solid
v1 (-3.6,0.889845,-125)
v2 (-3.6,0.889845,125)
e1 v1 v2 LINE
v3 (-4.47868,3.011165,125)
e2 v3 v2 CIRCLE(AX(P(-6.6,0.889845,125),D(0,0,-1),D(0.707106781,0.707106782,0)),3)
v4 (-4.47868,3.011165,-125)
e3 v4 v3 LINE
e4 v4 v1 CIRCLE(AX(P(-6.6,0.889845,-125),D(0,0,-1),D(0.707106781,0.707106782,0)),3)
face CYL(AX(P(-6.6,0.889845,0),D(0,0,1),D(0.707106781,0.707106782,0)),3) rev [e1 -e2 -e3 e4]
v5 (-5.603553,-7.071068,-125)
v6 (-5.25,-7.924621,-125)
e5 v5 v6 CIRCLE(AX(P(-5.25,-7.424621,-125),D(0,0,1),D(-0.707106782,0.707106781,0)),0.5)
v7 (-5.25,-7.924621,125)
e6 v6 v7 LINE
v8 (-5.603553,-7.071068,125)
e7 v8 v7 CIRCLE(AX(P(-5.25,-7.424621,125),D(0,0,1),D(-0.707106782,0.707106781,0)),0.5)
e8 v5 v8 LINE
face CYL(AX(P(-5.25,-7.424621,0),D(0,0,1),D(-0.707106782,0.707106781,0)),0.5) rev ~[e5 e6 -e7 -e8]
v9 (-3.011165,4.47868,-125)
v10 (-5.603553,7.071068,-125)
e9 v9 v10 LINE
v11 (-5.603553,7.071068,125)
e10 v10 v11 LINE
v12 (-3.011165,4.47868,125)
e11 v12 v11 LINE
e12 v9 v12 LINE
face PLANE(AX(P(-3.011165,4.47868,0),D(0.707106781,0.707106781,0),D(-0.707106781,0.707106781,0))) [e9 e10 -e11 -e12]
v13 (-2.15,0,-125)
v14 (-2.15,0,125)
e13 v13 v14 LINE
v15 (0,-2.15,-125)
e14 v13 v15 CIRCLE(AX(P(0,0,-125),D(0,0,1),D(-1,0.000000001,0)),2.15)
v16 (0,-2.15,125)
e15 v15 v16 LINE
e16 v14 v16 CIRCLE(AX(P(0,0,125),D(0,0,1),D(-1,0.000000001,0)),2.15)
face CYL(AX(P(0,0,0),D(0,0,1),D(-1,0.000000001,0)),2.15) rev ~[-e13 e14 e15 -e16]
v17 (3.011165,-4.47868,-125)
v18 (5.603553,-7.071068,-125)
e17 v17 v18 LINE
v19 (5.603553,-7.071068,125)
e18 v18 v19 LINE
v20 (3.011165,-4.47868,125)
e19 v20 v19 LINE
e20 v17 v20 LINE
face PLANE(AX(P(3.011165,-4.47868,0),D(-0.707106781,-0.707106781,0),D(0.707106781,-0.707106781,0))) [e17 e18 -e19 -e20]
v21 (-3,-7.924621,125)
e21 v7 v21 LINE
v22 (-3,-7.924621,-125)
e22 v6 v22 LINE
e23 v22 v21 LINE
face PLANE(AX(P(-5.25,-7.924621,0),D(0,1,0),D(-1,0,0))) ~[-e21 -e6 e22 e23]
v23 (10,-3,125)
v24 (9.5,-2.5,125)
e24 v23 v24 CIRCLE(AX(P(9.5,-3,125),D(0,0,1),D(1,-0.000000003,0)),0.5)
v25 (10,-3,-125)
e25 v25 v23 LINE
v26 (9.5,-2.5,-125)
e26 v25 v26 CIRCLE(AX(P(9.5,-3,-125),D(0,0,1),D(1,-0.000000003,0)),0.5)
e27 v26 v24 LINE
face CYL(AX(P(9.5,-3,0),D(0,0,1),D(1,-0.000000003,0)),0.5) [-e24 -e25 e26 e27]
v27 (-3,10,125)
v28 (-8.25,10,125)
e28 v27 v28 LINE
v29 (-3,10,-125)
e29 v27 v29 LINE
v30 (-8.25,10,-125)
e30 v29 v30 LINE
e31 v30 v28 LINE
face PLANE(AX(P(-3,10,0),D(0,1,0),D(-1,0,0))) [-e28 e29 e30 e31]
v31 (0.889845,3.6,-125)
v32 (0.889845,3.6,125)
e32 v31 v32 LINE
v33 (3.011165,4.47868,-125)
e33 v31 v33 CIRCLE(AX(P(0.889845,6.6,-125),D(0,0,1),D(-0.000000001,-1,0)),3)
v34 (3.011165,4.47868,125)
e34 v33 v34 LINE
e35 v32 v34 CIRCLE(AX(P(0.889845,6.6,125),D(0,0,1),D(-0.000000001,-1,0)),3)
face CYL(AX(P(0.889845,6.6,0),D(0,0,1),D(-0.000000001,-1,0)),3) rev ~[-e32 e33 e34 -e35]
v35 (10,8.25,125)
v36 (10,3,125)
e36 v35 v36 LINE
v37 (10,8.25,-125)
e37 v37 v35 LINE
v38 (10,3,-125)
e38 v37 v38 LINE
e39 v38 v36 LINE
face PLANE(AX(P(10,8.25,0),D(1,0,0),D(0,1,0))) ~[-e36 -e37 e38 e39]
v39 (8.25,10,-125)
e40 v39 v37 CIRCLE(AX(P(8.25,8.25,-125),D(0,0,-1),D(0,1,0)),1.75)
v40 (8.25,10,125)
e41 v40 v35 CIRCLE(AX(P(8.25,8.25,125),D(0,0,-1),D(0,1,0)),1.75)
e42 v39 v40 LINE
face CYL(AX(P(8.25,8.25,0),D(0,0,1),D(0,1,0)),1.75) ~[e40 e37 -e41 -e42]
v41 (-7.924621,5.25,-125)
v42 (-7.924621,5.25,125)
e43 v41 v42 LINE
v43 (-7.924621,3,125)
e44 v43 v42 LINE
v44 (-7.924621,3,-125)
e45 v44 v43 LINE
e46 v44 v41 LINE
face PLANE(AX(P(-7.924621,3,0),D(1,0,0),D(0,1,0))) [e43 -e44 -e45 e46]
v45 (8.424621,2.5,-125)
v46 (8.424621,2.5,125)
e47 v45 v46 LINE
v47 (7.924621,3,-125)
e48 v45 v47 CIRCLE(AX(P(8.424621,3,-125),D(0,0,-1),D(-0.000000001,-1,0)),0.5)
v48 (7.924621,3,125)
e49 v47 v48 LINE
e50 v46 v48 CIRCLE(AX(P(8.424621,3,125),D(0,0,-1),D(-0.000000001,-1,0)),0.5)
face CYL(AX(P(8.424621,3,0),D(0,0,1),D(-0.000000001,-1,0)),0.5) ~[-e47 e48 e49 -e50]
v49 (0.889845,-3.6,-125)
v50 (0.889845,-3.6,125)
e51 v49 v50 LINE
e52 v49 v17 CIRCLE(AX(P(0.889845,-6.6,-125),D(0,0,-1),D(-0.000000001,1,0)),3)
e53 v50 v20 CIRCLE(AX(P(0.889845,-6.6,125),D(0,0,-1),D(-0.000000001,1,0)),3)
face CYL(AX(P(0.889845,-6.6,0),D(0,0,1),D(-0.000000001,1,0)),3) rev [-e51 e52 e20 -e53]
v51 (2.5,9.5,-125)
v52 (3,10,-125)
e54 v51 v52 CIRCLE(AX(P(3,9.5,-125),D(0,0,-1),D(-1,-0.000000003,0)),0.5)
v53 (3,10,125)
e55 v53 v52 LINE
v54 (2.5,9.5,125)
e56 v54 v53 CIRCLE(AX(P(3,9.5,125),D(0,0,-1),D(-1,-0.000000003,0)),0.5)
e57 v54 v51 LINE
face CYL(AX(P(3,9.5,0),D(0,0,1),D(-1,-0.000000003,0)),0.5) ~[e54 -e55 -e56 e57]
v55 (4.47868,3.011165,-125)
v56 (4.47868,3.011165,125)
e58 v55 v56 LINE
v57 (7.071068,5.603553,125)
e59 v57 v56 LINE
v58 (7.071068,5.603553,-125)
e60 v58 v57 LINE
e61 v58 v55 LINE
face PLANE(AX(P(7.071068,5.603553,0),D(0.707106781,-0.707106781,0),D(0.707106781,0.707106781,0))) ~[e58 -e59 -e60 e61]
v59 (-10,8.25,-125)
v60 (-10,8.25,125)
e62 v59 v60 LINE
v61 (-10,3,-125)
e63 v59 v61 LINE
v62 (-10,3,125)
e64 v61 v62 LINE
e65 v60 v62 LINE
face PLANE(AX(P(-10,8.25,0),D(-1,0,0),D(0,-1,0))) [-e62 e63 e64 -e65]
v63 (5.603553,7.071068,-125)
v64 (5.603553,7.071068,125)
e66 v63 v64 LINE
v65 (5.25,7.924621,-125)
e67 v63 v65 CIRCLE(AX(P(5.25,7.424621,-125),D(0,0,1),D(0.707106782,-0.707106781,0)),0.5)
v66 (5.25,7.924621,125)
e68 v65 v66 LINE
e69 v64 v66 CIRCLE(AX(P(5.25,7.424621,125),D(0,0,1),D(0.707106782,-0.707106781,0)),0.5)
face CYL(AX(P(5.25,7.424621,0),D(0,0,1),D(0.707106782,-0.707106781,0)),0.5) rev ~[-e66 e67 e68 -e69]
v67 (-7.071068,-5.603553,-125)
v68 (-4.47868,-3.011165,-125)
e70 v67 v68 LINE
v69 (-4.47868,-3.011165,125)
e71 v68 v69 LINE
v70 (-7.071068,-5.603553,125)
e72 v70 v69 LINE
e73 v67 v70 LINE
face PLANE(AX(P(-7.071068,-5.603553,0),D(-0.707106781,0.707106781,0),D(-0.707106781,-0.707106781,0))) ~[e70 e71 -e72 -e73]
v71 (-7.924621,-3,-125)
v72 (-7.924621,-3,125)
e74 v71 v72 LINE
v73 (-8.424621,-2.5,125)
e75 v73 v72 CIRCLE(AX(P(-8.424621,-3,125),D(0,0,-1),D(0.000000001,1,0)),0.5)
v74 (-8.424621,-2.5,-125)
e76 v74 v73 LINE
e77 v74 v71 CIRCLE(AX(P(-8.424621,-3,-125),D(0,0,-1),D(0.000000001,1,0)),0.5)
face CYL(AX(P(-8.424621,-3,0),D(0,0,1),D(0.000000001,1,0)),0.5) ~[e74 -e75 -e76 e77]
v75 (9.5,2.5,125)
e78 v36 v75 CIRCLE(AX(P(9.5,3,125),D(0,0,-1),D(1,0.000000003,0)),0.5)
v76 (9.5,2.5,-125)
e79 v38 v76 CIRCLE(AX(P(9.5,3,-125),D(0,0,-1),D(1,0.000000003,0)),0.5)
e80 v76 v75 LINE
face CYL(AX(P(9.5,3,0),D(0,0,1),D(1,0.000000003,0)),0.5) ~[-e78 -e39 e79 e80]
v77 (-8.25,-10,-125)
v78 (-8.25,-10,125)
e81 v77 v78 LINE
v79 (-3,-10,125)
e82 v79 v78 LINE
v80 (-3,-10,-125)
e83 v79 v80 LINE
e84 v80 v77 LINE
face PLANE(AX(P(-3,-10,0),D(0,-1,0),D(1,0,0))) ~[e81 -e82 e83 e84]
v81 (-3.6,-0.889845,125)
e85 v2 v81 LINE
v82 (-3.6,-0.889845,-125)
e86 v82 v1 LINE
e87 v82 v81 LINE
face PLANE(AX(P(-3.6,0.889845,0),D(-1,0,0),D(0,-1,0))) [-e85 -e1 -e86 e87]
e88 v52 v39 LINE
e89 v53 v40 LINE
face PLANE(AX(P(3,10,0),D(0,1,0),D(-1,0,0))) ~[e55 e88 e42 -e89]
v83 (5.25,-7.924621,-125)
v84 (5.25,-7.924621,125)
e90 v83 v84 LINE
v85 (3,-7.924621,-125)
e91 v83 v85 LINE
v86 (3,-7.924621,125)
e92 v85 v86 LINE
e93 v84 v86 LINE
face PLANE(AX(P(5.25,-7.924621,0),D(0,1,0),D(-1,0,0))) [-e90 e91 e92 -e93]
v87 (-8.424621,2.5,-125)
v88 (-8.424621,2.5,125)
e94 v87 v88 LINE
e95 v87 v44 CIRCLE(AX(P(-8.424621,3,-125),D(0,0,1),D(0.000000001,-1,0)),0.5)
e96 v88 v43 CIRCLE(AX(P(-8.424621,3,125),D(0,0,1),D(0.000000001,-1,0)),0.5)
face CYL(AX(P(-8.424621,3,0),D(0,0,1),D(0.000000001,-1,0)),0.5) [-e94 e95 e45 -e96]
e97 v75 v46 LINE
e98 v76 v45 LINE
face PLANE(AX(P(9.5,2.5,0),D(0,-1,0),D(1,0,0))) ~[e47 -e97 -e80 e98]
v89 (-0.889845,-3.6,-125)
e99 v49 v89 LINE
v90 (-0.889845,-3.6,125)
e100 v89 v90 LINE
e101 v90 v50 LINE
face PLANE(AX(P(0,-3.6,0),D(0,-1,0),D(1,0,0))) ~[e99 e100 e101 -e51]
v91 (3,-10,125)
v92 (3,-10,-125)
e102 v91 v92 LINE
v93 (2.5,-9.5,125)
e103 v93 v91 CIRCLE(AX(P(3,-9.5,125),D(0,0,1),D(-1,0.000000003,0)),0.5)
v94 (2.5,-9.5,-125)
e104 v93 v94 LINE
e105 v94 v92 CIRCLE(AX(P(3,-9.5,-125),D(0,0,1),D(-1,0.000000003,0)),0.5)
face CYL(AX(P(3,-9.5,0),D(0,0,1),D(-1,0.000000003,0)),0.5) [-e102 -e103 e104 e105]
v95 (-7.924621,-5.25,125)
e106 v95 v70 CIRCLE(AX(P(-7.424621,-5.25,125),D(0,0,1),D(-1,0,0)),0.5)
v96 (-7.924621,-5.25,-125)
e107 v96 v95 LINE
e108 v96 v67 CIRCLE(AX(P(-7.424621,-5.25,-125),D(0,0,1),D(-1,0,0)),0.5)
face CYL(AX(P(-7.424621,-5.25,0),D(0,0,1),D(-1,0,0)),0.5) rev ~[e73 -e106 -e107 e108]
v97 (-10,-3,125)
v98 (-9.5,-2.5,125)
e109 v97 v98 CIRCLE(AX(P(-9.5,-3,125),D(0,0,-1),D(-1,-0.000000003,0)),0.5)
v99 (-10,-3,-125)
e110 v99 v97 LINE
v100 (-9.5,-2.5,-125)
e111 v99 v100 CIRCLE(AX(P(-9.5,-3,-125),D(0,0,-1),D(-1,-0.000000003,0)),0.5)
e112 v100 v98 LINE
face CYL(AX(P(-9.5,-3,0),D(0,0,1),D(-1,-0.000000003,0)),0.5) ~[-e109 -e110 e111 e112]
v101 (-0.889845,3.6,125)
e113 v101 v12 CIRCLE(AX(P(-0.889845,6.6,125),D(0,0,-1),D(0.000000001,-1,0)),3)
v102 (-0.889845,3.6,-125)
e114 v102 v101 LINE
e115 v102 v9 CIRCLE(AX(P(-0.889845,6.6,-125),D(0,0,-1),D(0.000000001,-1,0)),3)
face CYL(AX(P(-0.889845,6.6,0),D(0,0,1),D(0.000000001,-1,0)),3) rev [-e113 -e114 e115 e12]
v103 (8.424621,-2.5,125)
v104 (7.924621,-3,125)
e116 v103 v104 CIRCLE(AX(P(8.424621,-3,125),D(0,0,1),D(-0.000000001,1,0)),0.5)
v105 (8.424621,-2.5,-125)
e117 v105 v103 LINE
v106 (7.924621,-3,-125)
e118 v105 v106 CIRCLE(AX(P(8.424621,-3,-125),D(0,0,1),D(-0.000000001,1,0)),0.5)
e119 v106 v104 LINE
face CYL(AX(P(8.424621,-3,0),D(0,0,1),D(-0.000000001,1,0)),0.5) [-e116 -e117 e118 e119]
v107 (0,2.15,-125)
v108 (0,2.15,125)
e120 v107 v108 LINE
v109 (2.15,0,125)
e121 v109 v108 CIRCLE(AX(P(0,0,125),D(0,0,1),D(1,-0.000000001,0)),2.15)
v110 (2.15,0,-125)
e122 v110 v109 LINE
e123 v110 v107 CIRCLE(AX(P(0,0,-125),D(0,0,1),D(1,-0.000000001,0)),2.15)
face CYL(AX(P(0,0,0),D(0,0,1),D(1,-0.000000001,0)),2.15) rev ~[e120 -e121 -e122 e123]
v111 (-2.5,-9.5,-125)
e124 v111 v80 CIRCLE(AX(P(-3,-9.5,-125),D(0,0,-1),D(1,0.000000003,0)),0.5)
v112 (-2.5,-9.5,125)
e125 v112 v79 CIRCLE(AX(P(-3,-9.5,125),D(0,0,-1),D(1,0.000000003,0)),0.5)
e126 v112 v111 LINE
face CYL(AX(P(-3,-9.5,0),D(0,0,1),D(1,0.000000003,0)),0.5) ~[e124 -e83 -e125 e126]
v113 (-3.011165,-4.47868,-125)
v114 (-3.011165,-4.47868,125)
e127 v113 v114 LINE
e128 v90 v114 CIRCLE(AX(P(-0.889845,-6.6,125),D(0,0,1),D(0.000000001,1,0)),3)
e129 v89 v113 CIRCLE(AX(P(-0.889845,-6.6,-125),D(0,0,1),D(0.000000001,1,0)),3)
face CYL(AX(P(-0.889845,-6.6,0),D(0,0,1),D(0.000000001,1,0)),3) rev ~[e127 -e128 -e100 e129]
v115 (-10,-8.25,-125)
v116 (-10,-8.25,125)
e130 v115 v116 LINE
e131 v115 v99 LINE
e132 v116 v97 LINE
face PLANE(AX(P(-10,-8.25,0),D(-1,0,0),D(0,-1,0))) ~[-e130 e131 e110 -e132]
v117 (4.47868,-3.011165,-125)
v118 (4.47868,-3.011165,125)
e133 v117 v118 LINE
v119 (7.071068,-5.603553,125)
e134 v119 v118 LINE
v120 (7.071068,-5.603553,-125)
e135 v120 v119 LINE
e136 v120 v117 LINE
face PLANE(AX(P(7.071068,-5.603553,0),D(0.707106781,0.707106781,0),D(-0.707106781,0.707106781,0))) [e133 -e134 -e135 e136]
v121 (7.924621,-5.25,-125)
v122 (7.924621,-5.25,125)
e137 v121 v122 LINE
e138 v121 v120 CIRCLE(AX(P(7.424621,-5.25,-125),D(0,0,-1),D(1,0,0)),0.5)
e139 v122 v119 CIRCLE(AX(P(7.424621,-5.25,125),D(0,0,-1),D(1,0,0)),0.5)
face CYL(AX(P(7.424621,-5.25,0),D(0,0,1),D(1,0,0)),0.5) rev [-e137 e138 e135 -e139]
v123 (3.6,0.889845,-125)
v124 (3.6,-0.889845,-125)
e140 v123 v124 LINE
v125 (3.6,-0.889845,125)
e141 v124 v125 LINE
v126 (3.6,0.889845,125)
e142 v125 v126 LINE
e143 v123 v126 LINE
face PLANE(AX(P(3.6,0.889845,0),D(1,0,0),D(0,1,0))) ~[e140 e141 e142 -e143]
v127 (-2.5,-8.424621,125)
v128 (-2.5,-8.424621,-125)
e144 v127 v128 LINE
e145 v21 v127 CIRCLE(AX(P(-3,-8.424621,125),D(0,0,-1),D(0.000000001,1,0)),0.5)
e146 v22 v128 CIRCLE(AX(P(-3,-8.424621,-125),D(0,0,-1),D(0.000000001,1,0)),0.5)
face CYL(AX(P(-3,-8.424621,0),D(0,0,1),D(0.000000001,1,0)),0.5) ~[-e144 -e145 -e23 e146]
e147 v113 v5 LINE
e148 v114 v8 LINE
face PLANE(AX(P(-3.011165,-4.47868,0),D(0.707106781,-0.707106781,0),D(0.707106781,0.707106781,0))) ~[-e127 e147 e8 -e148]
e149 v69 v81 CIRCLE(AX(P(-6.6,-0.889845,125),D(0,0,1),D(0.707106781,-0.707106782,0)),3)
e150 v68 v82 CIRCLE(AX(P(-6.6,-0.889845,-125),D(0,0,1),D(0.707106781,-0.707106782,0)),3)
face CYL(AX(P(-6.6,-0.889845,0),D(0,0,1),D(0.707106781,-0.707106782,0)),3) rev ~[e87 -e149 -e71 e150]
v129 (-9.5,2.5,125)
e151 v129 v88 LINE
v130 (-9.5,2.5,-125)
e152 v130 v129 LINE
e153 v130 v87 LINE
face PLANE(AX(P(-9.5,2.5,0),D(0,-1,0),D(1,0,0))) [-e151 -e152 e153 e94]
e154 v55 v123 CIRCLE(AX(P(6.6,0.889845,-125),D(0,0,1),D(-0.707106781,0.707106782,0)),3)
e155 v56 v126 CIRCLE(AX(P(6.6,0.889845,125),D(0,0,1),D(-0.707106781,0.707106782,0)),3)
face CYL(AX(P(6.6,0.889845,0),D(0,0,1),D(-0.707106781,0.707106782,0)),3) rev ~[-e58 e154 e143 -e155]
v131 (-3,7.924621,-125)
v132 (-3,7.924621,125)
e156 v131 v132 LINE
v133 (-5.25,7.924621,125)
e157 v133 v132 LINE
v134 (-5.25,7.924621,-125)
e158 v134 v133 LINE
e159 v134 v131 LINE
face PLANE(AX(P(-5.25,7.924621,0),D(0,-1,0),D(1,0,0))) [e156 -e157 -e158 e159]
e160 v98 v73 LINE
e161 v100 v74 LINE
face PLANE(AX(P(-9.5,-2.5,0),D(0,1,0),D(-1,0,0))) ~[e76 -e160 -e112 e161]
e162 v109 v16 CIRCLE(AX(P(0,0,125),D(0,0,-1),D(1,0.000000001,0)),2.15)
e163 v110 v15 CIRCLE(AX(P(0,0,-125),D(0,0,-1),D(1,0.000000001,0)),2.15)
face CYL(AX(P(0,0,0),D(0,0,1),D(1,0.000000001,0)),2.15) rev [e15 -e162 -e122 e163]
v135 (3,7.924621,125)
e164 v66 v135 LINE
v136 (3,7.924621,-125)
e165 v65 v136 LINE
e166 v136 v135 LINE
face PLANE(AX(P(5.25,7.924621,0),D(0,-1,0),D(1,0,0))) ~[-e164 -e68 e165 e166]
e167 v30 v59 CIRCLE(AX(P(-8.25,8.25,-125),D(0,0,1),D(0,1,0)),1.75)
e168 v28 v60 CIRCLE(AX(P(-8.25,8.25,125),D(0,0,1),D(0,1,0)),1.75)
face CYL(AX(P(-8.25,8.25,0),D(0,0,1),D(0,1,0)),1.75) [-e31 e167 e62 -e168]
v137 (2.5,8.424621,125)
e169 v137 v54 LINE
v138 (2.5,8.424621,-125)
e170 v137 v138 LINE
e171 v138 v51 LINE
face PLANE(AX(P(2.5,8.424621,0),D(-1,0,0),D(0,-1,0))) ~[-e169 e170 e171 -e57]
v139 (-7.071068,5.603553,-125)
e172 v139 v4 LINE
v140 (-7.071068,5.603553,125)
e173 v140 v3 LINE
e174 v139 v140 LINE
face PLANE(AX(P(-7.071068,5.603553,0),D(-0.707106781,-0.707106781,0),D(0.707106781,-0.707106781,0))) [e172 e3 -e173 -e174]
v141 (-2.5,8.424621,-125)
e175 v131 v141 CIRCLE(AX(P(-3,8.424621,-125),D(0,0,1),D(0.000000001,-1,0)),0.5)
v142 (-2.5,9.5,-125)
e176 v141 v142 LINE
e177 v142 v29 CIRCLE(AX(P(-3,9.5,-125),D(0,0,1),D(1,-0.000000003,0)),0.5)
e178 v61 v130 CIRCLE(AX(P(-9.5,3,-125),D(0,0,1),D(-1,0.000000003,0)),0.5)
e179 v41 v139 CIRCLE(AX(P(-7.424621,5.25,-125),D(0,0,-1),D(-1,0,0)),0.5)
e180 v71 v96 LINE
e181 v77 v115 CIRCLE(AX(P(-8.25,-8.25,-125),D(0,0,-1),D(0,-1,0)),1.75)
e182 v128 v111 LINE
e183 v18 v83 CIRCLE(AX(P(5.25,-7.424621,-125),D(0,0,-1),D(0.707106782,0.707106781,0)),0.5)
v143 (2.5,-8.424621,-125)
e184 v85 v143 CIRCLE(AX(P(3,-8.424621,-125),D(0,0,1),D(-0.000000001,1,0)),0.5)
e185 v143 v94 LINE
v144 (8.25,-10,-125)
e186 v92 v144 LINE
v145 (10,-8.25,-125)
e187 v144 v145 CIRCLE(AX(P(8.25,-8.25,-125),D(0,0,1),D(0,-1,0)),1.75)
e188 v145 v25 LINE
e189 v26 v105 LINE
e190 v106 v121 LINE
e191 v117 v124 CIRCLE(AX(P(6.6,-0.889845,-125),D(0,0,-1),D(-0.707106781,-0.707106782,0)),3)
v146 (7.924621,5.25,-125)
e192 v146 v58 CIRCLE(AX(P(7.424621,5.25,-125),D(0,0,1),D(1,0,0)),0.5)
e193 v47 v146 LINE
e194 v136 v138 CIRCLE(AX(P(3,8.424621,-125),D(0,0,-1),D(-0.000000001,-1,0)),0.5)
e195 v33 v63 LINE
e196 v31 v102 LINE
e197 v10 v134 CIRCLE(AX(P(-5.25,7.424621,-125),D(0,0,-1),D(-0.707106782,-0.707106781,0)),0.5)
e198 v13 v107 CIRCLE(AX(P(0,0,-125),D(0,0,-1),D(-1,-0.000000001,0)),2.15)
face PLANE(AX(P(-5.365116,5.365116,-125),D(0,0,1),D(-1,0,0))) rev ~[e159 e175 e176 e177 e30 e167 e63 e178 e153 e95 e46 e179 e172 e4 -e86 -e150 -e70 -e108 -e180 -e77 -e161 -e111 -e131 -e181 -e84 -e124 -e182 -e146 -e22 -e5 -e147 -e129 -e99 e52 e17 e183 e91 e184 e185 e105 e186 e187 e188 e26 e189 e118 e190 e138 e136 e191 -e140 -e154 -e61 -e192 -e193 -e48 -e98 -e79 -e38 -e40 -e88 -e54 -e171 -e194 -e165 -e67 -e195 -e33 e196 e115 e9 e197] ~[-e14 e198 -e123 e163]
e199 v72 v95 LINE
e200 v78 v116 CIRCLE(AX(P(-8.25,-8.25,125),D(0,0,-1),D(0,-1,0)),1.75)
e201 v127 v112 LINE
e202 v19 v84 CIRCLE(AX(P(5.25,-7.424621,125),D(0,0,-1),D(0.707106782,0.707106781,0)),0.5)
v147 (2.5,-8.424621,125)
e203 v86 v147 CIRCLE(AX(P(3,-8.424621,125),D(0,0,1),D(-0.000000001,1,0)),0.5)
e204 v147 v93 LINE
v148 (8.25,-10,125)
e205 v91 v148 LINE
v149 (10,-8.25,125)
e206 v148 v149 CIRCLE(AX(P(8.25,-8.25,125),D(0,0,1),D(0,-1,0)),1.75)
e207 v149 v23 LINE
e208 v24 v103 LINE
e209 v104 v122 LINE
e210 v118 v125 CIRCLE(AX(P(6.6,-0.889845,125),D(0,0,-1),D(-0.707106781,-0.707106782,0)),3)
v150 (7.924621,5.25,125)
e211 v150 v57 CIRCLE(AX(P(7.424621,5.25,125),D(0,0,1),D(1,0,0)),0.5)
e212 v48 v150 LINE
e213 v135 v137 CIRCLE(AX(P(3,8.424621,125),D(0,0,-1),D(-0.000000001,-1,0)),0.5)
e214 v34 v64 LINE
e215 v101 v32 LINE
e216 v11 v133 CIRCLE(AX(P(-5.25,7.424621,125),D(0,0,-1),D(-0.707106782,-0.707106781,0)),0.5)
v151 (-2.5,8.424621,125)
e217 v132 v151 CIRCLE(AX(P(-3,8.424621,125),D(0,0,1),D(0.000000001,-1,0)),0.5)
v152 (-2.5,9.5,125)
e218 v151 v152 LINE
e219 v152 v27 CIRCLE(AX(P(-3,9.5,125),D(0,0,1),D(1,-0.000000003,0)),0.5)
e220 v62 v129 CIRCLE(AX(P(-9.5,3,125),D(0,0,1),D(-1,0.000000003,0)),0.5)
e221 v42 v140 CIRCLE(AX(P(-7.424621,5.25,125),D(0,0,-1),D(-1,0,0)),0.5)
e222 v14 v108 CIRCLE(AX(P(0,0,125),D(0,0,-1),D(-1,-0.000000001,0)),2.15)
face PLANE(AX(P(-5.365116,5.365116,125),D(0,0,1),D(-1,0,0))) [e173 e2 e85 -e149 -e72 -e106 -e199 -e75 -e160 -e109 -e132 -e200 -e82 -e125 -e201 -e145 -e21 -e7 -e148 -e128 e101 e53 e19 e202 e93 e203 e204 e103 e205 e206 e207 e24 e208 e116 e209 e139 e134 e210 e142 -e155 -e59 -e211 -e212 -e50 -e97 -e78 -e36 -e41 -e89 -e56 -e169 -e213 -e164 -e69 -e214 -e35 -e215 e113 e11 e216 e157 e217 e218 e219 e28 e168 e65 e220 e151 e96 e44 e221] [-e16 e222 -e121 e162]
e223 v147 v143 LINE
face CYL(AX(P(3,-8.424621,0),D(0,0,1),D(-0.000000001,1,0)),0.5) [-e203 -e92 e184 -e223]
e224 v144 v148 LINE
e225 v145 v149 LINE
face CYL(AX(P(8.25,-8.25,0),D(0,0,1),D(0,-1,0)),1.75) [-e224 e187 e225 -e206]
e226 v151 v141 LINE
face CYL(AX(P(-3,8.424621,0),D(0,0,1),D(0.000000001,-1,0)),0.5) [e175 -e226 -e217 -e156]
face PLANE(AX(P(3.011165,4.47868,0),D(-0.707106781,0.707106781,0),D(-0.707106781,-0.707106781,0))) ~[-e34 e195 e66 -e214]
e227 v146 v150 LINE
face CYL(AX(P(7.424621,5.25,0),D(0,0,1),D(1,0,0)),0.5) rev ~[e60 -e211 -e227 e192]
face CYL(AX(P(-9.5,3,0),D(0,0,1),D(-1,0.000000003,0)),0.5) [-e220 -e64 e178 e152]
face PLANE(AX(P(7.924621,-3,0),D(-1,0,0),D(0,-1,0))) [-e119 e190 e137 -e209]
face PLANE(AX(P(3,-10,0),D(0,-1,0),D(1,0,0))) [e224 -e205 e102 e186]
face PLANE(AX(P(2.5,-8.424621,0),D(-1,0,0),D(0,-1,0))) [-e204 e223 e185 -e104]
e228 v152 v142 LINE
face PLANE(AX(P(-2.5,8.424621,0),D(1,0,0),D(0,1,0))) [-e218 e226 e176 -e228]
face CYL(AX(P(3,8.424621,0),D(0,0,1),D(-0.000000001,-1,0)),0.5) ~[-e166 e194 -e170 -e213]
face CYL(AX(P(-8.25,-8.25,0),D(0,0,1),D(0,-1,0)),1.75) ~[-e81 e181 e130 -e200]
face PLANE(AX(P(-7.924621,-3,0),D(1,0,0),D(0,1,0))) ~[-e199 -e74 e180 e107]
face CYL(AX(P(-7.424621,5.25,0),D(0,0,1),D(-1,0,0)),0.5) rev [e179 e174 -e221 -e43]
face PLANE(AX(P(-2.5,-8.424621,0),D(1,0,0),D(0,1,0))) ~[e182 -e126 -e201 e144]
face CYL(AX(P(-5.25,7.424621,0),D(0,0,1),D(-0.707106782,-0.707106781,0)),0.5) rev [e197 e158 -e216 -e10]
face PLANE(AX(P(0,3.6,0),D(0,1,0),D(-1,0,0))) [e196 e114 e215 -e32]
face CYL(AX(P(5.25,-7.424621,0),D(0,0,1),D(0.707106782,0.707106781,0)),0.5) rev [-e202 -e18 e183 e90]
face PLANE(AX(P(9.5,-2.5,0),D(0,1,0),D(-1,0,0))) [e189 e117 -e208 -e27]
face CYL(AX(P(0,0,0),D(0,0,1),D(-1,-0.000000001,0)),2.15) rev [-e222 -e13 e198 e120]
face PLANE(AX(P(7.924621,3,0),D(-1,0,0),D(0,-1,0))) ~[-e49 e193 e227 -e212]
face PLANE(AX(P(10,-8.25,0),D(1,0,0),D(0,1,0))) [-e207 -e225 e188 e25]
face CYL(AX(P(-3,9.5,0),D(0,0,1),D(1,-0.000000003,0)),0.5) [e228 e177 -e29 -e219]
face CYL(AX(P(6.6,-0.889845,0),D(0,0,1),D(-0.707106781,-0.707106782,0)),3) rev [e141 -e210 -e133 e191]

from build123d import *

# Parameters (mm, degrees)
BOSS_EXTRUDE1_DEPTH = 125


with BuildPart() as part:
    # Sketch4 → Boss-Extrude1 (new body, symmetric)
    with BuildSketch(Plane.XY):
        with BuildLine():
            Line((3, -10), (8.25, -10))
            ThreePointArc((8.25, -10), (9.487436867, -9.487436867), (10, -8.25))
            Line((10, -8.25), (10, -3))
            ThreePointArc((10, -3), (9.853553391, -2.646446609), (9.5, -2.5))
            Line((9.5, -2.5), (8.424621202, -2.5))
            ThreePointArc((8.424621202, -2.5), (8.071067812, -2.646446609), (7.924621202, -3))
            Line((7.924621202, -3), (7.924621202, -5.25))
            ThreePointArc((7.924621202, -5.25), (7.615962919, -5.711939766), (7.071067812, -5.603553391))
            Line((7.071067812, -5.603553391), (4.478679656, -3.011165235))
            ThreePointArc((4.478679656, -3.011165235), (3.828361402, -2.037895189), (3.6, -0.889844892))
            Line((3.6, -0.889844892), (3.6, 0))
            Line((3.6, 0), (2.15, 0))
            ThreePointArc((2.15, 0), (1.52027958, -1.52027958), (0, -2.15))
            Line((0, -2.15), (0, -3.6))
            Line((0, -3.6), (0.889844892, -3.6))
            ThreePointArc((0.889844892, -3.6), (2.037895189, -3.828361402), (3.011165235, -4.478679656))
            Line((3.011165235, -4.478679656), (5.603553391, -7.071067812))
            ThreePointArc((5.603553391, -7.071067812), (5.711939766, -7.615962919), (5.25, -7.924621202))
            Line((5.25, -7.924621202), (3, -7.924621202))
            ThreePointArc((3, -7.924621202), (2.646446609, -8.071067812), (2.5, -8.424621202))
            Line((2.5, -8.424621202), (2.5, -9.5))
            ThreePointArc((2.5, -9.5), (2.646446609, -9.853553391), (3, -10))
        make_face()
    extrude(amount=BOSS_EXTRUDE1_DEPTH, both=True)

    # Mirror1: part across plane


with BuildPart() as part_1:
    add(part.part)
    add(part.part.mirror(Plane(origin=(0, 0, 0), x_dir=(0, 0, 1), z_dir=(1, 0, 0))))

    # Mirror2: part across plane


with BuildPart() as part_2:
    add(part_1.part)
    add(part_1.part.mirror(Plane.ZX))


solid = part_2.part
